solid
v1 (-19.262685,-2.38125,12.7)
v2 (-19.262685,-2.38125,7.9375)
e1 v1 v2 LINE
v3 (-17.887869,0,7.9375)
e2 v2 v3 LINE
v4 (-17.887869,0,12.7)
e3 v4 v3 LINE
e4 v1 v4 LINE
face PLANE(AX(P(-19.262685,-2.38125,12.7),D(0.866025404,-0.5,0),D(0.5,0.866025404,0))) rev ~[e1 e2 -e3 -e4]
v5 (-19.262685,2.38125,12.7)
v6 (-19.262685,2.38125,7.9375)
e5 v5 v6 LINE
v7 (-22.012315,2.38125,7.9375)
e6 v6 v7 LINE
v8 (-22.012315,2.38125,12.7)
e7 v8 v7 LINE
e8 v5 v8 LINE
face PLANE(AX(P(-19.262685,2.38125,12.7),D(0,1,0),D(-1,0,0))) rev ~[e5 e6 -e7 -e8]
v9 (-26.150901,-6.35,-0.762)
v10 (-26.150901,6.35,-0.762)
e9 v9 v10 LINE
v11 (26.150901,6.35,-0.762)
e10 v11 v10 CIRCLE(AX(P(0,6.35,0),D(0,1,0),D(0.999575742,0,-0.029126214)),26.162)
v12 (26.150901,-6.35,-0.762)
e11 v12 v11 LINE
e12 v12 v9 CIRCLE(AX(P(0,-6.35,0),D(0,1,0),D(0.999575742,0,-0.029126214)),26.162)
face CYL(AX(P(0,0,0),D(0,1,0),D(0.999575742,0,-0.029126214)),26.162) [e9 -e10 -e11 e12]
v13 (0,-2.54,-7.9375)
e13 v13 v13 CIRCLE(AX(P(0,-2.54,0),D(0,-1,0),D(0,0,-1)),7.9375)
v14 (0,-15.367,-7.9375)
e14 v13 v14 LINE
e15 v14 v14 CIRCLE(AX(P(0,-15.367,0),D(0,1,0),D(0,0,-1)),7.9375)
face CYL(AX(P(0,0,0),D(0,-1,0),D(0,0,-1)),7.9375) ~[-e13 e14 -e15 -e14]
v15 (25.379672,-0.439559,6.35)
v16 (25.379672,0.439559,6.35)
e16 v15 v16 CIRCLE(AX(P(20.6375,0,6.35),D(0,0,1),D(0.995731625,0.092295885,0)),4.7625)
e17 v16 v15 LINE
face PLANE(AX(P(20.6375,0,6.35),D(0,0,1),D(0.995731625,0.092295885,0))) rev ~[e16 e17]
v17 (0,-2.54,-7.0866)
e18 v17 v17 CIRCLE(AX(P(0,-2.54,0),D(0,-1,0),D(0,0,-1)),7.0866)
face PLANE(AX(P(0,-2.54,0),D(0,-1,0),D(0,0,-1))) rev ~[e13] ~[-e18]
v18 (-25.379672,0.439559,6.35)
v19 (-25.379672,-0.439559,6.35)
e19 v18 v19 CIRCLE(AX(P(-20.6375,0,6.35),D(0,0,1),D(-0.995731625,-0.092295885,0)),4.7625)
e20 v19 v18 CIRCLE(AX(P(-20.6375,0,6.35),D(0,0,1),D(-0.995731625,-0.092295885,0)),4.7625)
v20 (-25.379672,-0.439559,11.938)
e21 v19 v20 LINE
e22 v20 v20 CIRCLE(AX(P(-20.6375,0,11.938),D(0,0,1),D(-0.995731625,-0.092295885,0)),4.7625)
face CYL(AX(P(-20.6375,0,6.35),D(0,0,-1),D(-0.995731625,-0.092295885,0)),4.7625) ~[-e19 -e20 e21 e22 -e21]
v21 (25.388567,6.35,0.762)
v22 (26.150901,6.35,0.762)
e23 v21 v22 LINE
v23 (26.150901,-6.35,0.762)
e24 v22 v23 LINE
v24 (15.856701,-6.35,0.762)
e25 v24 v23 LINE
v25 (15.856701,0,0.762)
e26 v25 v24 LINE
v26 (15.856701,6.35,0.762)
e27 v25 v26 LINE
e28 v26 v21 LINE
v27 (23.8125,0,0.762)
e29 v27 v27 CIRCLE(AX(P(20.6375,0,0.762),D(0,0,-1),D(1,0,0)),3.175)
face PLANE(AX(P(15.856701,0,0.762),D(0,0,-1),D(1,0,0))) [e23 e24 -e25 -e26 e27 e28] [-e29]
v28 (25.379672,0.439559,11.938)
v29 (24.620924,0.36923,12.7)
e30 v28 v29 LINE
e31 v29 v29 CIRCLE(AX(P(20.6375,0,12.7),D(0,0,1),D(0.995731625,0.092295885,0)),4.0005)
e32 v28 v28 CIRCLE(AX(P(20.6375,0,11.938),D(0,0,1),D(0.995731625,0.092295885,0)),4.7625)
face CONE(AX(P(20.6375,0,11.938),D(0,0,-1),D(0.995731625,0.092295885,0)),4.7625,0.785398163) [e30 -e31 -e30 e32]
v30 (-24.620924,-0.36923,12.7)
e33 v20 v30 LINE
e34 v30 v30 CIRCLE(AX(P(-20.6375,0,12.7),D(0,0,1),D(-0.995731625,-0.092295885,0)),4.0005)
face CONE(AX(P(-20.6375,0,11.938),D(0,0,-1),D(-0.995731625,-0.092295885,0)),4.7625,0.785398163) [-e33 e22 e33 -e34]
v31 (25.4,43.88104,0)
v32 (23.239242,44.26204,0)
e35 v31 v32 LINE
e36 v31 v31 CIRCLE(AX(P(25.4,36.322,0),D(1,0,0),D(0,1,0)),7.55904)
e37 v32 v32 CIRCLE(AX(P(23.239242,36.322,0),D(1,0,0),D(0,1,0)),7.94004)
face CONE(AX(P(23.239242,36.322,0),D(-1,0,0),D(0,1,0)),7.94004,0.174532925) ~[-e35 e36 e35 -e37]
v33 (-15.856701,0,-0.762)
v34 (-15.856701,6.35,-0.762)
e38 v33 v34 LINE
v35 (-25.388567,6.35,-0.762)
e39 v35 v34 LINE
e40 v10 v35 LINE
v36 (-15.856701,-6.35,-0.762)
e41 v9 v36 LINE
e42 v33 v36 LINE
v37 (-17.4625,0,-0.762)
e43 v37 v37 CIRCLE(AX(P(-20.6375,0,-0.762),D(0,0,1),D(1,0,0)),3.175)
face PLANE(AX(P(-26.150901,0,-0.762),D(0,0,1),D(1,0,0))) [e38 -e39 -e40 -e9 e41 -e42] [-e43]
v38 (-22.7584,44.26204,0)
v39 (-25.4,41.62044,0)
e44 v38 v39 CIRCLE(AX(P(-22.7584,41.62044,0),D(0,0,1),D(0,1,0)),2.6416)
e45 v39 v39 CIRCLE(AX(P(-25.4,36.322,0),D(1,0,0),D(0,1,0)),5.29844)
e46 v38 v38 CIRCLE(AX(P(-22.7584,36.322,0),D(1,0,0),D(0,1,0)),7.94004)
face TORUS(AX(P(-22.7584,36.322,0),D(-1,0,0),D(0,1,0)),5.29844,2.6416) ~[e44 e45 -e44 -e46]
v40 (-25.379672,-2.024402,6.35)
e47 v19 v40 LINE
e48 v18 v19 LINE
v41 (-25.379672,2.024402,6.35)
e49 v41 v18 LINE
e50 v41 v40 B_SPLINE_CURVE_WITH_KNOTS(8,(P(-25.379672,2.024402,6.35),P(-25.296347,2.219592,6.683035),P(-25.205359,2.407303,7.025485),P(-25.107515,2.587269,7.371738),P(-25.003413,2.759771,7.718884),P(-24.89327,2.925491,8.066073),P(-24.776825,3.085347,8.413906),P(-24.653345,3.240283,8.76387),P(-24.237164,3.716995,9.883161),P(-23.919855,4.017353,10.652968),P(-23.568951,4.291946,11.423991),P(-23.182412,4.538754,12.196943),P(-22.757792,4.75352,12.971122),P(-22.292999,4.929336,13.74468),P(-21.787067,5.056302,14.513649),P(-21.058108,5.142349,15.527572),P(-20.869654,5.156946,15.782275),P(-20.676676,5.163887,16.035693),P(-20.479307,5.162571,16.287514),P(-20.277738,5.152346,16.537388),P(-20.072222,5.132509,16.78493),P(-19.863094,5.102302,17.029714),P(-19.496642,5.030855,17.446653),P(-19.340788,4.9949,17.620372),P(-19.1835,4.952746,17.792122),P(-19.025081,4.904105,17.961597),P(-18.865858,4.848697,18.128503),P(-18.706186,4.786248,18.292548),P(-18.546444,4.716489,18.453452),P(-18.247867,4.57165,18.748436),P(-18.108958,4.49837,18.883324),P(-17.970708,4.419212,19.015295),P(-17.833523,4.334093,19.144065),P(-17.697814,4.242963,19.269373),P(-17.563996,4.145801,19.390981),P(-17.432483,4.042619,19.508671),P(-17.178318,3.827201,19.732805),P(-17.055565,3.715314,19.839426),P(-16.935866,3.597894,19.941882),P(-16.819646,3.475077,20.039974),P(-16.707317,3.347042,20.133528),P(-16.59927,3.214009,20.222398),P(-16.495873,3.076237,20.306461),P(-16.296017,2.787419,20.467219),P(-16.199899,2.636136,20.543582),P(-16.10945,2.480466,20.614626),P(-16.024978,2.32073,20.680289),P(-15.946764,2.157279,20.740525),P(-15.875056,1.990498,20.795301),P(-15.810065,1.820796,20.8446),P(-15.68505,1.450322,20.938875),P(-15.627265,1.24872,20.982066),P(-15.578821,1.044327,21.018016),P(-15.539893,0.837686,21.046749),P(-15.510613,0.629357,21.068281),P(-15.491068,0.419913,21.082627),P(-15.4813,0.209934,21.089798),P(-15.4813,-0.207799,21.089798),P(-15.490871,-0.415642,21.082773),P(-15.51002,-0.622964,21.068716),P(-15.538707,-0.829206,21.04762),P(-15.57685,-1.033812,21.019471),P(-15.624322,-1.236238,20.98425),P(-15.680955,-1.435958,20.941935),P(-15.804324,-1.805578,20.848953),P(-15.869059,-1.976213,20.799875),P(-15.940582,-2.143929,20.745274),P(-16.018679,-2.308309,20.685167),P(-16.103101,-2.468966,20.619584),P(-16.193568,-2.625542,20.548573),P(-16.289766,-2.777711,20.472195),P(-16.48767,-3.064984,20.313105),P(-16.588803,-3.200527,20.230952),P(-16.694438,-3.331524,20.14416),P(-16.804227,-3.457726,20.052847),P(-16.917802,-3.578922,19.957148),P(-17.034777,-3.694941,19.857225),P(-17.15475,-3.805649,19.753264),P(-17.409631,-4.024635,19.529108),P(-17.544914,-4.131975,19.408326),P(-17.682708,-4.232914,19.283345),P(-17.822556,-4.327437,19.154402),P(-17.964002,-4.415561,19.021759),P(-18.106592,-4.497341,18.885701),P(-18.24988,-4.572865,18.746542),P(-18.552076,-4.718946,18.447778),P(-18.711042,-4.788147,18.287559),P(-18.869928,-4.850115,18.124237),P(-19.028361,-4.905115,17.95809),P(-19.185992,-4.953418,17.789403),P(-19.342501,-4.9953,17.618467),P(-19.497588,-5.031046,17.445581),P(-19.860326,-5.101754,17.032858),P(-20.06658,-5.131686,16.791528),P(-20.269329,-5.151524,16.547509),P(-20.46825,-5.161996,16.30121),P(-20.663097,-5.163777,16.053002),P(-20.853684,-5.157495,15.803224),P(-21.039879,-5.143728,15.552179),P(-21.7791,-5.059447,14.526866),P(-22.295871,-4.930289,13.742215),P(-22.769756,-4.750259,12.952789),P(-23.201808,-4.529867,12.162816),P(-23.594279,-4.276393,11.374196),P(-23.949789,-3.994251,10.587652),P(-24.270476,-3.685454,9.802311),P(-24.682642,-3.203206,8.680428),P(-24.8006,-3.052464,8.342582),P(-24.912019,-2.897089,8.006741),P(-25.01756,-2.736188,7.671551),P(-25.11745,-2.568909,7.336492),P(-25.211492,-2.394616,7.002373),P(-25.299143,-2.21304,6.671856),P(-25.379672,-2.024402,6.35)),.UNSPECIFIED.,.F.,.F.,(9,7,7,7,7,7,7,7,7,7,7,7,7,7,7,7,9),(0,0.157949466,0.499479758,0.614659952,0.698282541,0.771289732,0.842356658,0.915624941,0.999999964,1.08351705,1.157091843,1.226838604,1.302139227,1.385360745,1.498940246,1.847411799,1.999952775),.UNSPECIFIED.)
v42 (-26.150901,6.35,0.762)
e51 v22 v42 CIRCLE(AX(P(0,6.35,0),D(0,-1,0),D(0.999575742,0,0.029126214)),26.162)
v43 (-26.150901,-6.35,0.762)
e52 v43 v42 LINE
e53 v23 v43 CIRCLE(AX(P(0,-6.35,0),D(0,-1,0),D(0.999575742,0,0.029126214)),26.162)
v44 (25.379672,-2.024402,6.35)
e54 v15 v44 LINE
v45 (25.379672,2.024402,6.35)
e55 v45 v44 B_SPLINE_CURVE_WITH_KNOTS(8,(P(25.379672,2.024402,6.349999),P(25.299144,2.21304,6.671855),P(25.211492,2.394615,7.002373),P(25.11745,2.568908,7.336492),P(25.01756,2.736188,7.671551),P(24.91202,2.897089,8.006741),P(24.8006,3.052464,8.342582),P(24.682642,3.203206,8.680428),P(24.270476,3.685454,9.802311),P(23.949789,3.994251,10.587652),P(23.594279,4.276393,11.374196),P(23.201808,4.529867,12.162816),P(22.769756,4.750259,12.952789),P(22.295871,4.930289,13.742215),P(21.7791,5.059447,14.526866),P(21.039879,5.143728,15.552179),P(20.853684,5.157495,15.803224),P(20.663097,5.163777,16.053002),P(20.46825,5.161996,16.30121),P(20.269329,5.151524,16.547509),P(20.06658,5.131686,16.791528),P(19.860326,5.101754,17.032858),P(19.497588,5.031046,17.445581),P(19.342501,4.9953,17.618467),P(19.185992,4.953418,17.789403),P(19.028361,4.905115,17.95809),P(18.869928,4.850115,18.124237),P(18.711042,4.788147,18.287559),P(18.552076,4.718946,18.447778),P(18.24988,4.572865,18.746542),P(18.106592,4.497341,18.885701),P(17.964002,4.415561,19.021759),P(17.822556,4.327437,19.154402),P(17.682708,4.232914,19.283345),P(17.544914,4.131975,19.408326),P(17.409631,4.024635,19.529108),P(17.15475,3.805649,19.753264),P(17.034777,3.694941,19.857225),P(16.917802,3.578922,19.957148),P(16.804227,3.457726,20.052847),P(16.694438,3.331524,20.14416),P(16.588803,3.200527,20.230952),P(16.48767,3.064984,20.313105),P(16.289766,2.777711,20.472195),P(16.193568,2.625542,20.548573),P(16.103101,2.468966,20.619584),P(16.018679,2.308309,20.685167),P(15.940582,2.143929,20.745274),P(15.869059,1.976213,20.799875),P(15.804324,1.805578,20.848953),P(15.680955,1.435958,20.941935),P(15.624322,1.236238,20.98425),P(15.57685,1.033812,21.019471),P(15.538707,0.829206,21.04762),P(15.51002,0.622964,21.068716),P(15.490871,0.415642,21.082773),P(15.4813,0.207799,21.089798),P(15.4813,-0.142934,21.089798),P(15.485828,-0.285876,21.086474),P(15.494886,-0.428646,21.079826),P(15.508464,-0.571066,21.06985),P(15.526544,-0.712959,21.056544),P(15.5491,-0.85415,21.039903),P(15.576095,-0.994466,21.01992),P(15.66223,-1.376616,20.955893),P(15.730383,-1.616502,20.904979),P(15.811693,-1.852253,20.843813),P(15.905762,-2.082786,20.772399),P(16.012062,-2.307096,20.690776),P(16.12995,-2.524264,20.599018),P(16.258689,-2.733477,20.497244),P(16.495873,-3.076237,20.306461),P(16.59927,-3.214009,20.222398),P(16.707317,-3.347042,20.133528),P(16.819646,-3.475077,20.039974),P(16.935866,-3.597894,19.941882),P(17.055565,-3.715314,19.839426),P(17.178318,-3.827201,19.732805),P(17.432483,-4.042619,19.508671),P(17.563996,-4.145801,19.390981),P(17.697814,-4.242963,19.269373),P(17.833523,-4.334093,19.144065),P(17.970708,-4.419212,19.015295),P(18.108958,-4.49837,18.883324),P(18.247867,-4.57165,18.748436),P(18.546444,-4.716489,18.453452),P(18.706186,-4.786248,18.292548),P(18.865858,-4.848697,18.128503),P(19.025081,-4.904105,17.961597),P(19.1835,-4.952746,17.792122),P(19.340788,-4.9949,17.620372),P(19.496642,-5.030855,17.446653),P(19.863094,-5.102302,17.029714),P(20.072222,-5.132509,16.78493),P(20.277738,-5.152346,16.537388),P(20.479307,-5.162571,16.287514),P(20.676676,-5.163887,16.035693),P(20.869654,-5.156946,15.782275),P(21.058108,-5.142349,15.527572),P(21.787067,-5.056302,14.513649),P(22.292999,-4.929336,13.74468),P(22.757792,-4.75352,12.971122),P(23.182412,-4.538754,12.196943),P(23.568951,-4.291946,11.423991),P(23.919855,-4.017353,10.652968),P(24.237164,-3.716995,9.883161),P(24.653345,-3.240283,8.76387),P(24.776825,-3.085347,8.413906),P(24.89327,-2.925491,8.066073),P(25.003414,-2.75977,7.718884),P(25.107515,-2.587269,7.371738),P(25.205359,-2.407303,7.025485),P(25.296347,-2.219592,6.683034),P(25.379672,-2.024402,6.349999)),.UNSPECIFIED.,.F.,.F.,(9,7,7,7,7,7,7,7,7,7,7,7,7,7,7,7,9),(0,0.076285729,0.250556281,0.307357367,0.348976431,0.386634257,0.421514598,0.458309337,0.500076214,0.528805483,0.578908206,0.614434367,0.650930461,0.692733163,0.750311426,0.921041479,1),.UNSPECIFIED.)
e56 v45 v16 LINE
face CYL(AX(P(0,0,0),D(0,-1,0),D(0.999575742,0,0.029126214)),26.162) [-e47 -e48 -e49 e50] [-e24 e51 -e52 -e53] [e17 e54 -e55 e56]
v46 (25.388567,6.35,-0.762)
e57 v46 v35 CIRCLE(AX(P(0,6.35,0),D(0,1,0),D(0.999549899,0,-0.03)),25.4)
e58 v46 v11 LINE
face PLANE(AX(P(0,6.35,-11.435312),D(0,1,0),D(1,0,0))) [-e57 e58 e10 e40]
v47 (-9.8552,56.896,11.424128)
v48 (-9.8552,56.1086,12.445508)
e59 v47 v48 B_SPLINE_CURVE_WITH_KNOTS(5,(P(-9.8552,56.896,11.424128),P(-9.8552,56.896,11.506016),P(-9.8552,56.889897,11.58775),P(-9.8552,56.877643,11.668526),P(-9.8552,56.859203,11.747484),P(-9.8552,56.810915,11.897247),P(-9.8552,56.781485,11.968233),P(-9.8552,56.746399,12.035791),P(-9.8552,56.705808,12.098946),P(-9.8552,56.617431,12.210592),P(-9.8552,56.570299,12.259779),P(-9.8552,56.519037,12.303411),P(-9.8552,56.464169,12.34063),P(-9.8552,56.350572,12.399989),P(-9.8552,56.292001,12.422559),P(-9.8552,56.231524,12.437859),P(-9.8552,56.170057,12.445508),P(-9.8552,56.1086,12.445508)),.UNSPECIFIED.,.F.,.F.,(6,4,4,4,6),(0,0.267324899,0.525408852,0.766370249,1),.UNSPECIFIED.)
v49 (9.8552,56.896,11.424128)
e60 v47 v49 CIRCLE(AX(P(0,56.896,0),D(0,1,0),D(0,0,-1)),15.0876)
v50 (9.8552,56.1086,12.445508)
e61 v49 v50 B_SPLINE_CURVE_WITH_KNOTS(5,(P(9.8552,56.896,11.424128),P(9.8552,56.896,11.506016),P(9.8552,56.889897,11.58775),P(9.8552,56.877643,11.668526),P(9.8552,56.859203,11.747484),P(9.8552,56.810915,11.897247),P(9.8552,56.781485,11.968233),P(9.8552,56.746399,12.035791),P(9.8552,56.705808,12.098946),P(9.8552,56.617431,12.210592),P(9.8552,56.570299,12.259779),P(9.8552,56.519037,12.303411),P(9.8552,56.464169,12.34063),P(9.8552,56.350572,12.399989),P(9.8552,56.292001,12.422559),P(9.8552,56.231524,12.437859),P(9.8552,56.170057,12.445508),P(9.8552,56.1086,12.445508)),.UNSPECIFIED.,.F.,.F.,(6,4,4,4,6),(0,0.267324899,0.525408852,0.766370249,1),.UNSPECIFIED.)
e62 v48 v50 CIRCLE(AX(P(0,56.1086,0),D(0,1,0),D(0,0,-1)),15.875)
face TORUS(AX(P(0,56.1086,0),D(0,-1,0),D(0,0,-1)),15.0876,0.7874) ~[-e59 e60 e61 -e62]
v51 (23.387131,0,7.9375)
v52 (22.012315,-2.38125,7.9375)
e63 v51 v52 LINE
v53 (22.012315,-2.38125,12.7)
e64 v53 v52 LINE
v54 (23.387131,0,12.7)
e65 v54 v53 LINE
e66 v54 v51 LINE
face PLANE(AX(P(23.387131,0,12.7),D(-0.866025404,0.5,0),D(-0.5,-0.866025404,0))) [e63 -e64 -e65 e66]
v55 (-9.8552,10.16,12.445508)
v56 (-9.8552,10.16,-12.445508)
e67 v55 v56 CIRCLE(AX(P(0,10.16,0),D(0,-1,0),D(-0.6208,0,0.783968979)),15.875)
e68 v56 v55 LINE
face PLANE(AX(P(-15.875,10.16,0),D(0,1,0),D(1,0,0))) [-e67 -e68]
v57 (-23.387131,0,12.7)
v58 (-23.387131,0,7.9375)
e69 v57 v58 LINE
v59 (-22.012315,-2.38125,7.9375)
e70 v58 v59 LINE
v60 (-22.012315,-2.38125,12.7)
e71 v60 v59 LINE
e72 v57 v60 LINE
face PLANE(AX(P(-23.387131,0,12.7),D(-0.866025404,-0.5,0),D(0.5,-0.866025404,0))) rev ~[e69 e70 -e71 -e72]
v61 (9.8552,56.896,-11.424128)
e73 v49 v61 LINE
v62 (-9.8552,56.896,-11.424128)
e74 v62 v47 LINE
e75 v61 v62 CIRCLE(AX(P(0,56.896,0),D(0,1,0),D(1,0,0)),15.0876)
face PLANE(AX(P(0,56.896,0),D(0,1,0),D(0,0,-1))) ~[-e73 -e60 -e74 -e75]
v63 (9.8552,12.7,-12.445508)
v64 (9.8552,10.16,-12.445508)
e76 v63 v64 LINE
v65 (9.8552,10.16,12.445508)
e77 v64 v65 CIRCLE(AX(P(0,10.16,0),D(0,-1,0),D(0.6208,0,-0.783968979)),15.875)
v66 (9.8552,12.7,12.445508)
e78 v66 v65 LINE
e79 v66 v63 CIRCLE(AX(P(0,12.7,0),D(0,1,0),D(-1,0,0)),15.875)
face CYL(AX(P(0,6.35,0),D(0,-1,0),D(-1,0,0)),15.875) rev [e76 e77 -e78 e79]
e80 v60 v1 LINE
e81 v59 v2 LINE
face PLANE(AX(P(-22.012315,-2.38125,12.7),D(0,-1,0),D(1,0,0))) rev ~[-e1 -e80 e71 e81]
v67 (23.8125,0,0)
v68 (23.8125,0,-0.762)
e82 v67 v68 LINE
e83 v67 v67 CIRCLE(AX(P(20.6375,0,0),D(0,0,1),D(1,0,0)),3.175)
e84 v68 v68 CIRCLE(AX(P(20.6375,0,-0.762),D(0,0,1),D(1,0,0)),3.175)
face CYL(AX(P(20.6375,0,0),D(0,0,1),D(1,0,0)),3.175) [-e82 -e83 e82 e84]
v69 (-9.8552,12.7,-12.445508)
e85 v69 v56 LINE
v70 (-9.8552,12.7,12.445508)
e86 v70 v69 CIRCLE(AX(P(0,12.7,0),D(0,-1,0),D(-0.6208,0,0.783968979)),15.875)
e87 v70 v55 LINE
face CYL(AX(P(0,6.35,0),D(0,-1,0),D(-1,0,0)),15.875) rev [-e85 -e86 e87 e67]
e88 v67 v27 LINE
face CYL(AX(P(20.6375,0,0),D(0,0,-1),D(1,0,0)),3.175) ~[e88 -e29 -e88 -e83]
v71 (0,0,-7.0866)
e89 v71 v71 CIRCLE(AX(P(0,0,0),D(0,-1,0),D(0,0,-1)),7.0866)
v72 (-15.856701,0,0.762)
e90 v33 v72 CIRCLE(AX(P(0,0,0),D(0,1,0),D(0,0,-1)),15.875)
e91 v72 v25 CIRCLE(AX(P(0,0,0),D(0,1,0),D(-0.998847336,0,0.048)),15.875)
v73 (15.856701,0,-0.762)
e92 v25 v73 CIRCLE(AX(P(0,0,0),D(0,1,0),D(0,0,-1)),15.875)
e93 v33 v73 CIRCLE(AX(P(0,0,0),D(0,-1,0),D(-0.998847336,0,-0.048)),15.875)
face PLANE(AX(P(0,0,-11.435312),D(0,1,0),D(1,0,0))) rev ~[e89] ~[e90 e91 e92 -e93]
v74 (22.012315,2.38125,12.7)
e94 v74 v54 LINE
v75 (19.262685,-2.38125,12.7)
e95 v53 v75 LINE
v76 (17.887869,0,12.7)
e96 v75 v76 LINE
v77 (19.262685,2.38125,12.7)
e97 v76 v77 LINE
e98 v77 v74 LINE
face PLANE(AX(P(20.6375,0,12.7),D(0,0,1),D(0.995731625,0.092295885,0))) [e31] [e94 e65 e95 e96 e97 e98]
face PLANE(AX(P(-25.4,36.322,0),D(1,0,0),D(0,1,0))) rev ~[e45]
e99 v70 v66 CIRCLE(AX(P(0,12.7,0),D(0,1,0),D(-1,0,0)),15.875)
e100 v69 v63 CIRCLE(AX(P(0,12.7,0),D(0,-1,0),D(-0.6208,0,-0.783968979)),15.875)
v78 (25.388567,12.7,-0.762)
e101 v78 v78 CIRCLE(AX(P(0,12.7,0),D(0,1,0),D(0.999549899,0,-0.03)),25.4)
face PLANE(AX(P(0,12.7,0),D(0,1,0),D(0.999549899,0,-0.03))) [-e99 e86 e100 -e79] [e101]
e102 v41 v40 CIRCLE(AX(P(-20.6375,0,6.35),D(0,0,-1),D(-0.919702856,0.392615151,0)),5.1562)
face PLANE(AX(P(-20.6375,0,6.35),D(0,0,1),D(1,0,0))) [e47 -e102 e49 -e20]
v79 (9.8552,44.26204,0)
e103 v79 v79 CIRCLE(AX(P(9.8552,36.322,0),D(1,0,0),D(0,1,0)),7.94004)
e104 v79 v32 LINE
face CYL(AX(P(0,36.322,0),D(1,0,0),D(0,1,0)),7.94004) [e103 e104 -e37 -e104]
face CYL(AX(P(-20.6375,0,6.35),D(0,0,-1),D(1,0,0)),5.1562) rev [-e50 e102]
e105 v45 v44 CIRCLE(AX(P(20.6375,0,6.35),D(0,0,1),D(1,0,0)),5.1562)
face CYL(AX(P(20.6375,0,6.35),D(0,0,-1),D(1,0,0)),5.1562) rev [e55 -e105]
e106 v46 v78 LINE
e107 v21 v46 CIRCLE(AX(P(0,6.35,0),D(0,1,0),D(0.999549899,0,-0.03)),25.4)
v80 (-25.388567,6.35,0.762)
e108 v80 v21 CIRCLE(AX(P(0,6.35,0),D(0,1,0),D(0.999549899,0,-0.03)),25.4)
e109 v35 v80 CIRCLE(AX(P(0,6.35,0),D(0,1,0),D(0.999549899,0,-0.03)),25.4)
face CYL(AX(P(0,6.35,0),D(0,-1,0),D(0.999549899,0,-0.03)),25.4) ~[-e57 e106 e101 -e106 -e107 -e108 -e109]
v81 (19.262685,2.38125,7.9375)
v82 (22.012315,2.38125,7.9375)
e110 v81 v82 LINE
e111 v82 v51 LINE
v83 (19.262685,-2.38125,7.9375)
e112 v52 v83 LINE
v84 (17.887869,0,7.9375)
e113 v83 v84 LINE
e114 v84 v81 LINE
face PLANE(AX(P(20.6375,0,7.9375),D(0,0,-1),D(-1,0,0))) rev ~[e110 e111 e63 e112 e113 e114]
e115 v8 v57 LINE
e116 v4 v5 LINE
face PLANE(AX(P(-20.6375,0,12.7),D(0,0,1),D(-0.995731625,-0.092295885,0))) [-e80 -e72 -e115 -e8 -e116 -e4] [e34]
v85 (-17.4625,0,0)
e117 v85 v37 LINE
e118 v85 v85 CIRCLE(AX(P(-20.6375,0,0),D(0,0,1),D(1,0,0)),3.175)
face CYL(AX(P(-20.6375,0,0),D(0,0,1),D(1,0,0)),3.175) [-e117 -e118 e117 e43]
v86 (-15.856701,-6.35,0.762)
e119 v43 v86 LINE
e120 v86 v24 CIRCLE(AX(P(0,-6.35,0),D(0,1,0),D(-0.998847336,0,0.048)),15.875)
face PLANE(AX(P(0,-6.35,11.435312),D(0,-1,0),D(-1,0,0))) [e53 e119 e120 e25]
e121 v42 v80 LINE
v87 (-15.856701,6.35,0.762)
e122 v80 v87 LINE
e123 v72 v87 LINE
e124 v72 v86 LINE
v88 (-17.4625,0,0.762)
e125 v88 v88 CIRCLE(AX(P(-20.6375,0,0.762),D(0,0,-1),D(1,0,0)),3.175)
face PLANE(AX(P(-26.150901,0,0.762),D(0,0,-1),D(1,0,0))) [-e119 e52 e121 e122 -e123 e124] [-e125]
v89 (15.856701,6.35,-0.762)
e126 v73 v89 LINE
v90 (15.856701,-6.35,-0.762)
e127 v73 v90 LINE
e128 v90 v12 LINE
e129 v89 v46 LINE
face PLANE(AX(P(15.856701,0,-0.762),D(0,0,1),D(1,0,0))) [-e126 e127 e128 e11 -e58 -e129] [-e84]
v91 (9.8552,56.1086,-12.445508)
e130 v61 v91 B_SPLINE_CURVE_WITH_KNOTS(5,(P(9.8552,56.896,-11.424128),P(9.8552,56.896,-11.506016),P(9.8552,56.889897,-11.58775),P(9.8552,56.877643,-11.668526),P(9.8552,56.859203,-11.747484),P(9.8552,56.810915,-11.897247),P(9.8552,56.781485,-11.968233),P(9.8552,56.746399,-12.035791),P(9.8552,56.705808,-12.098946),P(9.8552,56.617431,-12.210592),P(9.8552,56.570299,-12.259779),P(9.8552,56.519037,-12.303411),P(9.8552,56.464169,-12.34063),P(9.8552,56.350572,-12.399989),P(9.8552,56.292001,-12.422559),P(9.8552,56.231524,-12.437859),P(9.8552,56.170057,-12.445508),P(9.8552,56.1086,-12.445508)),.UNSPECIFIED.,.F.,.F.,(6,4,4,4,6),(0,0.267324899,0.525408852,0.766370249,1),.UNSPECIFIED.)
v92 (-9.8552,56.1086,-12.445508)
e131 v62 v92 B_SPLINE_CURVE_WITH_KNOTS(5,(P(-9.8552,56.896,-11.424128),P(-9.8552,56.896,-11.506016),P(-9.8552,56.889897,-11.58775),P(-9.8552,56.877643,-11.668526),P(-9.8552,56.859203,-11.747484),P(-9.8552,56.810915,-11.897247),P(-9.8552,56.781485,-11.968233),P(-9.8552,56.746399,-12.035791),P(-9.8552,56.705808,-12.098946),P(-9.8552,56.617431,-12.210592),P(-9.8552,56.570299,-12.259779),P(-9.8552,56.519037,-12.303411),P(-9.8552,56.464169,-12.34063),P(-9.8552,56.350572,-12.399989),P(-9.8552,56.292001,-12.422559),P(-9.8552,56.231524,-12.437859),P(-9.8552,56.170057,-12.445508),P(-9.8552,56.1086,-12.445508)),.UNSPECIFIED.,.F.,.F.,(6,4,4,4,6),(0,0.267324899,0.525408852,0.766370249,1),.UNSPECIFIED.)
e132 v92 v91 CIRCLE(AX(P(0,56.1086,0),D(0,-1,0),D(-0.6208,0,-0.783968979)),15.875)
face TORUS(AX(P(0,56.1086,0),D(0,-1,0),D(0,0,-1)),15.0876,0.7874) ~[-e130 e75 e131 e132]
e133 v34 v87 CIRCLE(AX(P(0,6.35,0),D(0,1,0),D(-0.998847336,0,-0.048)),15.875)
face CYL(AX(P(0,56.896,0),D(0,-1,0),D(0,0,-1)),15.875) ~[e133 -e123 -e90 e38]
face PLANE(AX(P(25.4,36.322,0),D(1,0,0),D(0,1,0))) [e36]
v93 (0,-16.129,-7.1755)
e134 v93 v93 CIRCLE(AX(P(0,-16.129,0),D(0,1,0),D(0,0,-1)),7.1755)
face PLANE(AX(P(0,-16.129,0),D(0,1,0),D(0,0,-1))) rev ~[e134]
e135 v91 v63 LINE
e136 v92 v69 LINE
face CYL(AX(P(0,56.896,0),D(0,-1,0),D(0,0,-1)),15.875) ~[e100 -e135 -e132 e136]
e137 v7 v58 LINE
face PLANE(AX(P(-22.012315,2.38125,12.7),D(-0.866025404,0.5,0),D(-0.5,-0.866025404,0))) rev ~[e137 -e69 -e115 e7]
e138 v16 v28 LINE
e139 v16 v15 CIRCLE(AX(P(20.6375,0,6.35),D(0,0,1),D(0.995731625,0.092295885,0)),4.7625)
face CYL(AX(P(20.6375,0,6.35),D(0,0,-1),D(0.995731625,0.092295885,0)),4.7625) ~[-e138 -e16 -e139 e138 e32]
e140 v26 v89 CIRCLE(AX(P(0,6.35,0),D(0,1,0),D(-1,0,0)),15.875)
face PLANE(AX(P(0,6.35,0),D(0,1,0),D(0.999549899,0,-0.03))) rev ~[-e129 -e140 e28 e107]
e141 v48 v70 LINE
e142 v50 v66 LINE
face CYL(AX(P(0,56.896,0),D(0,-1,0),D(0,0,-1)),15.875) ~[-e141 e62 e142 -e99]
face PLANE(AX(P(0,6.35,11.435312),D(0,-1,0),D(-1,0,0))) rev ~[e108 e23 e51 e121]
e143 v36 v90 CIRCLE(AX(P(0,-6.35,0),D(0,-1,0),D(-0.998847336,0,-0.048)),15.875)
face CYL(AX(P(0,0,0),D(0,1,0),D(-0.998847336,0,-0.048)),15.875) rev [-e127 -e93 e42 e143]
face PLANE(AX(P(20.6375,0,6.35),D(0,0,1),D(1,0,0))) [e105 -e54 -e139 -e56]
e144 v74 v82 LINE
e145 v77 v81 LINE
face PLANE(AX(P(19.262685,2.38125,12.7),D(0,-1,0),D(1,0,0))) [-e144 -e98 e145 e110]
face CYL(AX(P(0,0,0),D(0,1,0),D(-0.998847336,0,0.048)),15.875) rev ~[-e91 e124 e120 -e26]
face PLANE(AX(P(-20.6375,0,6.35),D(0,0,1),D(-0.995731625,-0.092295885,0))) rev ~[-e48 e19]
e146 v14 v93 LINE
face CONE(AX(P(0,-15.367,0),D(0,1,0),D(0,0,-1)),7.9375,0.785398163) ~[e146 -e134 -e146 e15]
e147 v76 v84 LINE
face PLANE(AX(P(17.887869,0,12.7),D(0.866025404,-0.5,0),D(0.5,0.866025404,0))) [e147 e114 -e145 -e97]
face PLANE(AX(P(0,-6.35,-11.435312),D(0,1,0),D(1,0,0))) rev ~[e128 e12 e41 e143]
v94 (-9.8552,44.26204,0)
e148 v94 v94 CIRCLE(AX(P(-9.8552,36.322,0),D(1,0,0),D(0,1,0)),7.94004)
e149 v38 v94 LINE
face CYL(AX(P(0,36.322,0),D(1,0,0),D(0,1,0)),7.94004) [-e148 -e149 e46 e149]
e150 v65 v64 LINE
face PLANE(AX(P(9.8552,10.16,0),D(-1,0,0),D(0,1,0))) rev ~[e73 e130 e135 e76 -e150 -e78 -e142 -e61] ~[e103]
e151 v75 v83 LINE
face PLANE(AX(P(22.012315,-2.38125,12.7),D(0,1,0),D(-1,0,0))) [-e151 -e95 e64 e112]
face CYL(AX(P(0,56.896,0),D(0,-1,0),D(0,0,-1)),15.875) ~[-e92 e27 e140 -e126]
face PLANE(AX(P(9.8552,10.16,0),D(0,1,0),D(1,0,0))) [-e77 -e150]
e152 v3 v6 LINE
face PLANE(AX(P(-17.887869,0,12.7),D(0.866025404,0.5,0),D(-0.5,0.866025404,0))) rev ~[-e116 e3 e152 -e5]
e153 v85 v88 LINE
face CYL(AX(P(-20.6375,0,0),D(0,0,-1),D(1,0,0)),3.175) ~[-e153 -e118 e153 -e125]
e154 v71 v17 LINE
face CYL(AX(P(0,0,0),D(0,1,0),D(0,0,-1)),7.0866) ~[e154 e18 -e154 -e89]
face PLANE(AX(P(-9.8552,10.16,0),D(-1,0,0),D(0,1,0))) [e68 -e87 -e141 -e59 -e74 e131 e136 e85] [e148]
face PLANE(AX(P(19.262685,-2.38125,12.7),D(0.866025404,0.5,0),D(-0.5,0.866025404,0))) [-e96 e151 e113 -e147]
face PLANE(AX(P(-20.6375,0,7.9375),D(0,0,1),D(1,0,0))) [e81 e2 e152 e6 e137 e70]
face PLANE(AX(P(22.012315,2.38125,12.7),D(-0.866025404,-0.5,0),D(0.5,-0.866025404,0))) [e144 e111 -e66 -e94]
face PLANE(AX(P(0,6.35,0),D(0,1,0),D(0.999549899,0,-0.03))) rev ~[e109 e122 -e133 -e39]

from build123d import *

# Parameters (mm, degrees)
FILLET1_R                  = 0.7874
SKETCH2_W                  = 6.0198
SKETCH2_H                  = 46.736
CUT_EXTRUDE1_DEPTH         = 16.875
CUT_EXTRUDE1_DEPTH_BACK    = 16.875
SKETCH3_R                  = 7.9375
SKETCH3_R_2                = 7.0866
CUT_EXTRUDE2_DEPTH         = 2.54
CHAMFER1_SIZE              = 0.762
SKETCH4_R                  = 7.94004
EXTRUDE1_DEPTH             = 25.4
CHAMFER2_SIZE              = 0.381
CHAMFER2_SIZE2             = 2.160758373
FILLET2_R                  = 2.6416
EXTRUDE2_DEPTH             = 6.35
EXTRUDE2_DEPTH_BACK        = 6.35
CUT_EXTRUDE3_START         = 5.588
SKETCH6_R                  = 5.1562
CUT_EXTRUDE3_DEPTH         = 20.812
SKETCH7_R                  = 4.7625
EXTRUDE3_DEPTH             = 6.35
CHAMFER3_SIZE              = 0.762
CUT_EXTRUDE4_DEPTH         = 4.7625
EXTRUDE4_REACH             = 28.162
SKETCH10_R                 = 3.175
EXTRUDE4_DIRECTION_2_REACH = 28.162
SKETCH11_R                 = 25.4
SKETCH11_R_2               = 15.875
EXTRUDE5_DEPTH             = 6.35


with BuildPart() as part:
    # Sketch1 → Revolve1 (revolve)
    with BuildSketch(Plane(origin=(0, 0, 0), x_dir=(0, 0, -1), z_dir=(1, 0, 0))):
        Polygon((0, 56.896), (15.875, 56.896), (15.875, 0), (7.9375, 0), (7.9375, -16.129), (0, -16.129), align=None)
    revolve(axis=Axis((0, -15.35938, 0), (0, 1, 0)))

    # Fillet1
    fillet1_edges = [part.edges().sort_by_distance(p)[0] for p in [
        (0, 56.896, 15.875),
    ]]
    fillet(fillet1_edges, radius=FILLET1_R)

    # Sketch2 → Cut-Extrude1 (cut, two sides)
    with BuildSketch(Plane.XY) as cut_extrude1_sk:
        with Locations((12.8651, 33.528)):
            Rectangle(SKETCH2_W, SKETCH2_H)
        with Locations((-12.8651, 33.528)):
            Rectangle(SKETCH2_W, SKETCH2_H)
    extrude(amount=CUT_EXTRUDE1_DEPTH, mode=Mode.SUBTRACT)
    extrude(cut_extrude1_sk.sketch, amount=-CUT_EXTRUDE1_DEPTH_BACK, mode=Mode.SUBTRACT)

    # Sketch3 → Cut-Extrude2 (cut)
    with BuildSketch(Plane.XZ):
        with Locations(Location((0, 0, 0), (0, 0, 270))):  # turned: the seam where the file's is
            Circle(SKETCH3_R)
        with Locations(Location((0, 0, 0), (0, 0, 270))):  # turned: the seam where the file's is
            Circle(SKETCH3_R_2, mode=Mode.SUBTRACT)
    extrude(amount=CUT_EXTRUDE2_DEPTH, mode=Mode.SUBTRACT)

    # Chamfer1
    chamfer1_edges = [part.edges().sort_by_distance(p)[0] for p in [
        (0, -16.129, 7.9375),
    ]]
    chamfer(chamfer1_edges, length=CHAMFER1_SIZE)

    # Sketch4 → Extrude1 (add, symmetric)
    with BuildSketch(Plane(origin=(0, 0, 0), x_dir=(0, 0, -1), z_dir=(1, 0, 0))):
        with Locations(Location((0, 36.322, 0), (0, 0, 90))):  # turned: the seam where the file's is
            Circle(SKETCH4_R)
    extrude(amount=EXTRUDE1_DEPTH, both=True)

    # Chamfer2
    chamfer2_edges = [part.edges().sort_by_distance(p)[0] for p in [
        (25.4, 28.38196, 0),
    ]]
    chamfer2_side = [part.faces().sort_by_distance(p)[0] for p in [
        (25.4, 36.322, 0),
    ]]
    chamfer(chamfer2_edges, length=CHAMFER2_SIZE, length2=CHAMFER2_SIZE2, reference=chamfer2_side[0])

    # Fillet2
    fillet2_edges = [part.edges().sort_by_distance(p)[0] for p in [
        (-25.4, 28.38196, 0),
    ]]
    fillet(fillet2_edges, radius=FILLET2_R)

    # Sketch5 → Extrude2 (add, two sides)
    with BuildSketch(Plane(origin=(0, 0, 0), x_dir=(1, 0, 0), z_dir=(0, 1, 0))) as extrude2_sk:
        with BuildLine():
            Line((15.856701454, 0.762), (26.150900558, 0.762))
            ThreePointArc((26.150900558, 0.762), (0, 26.162), (-26.150900558, 0.762))
            Line((-26.150900558, 0.762), (-15.856701454, 0.762))
            ThreePointArc((-15.856701454, 0.762), (0, 15.875), (15.856701454, 0.762))
        make_face()
        with BuildLine():
            Line((15.856701454, -0.762), (26.150900558, -0.762))
            ThreePointArc((26.150900558, -0.762), (0, -26.162), (-26.150900558, -0.762))
            Line((-26.150900558, -0.762), (-15.856701454, -0.762))
            ThreePointArc((-15.856701454, -0.762), (0, -15.875), (15.856701454, -0.762))
        make_face()
    extrude(amount=EXTRUDE2_DEPTH)
    extrude(extrude2_sk.sketch, amount=-EXTRUDE2_DEPTH_BACK)

    # Sketch6 → Cut-Extrude3 (cut, through all)
    with BuildSketch(Plane.XY.offset(0.762).offset(CUT_EXTRUDE3_START)):
        with Locations((20.6375, 0)):
            Circle(SKETCH6_R)
        with Locations((-20.6375, 0)):
            Circle(SKETCH6_R)
    extrude(amount=CUT_EXTRUDE3_DEPTH, mode=Mode.SUBTRACT)

    # Sketch7 → Extrude3 (add)
    with BuildSketch(Plane.XY.offset(6.35)):
        with Locations(Location((20.6375, 0, 0), (0, 0, 5.295701499))):  # turned: the seam where the file's is
            Circle(SKETCH7_R)
        with Locations(Location((-20.6375, 0, 0), (0, 0, 185.295701499))):  # turned: the seam where the file's is
            Circle(SKETCH7_R)
    extrude(amount=EXTRUDE3_DEPTH)

    # Chamfer3
    chamfer3_edges = [part.edges().sort_by_distance(p)[0] for p in [
        (15.895328135, -0.439559152, 12.7),
        (-15.895328135, 0.439559152, 12.7),
    ]]
    chamfer(chamfer3_edges, length=CHAMFER3_SIZE)

    # Sketch8 → Cut-Extrude4 (cut)
    with BuildSketch(Plane.XY.offset(12.7)):
        Polygon((22.012315329, 2.38125), (23.387130657, 0), (22.012315329, -2.38125), (19.262684671, -2.38125), (17.887869343, 0), (19.262684671, 2.38125), align=None)
        Polygon((-23.387130657, 0), (-22.012315329, -2.38125), (-19.262684671, -2.38125), (-17.887869343, 0), (-19.262684671, 2.38125), (-22.012315329, 2.38125), align=None)
    extrude(amount=-CUT_EXTRUDE4_DEPTH, mode=Mode.SUBTRACT)

    # Sketch10 → Extrude4 (add, up to next)
    with BuildSketch(Plane.XY, mode=Mode.PRIVATE) as extrude4_sk1:
        with Locations((20.6375, 0)):
            Circle(SKETCH10_R)
    extrude4_tool1 = extrude(extrude4_sk1.sketch, amount=EXTRUDE4_REACH, mode=Mode.PRIVATE) - part.part
    add(extrude4_tool1.solids().sort_by_distance((20.6375, 0, 0))[0])
    # Sketch10 → Extrude4 (add, up to next)
    with BuildSketch(Plane.XY, mode=Mode.PRIVATE) as extrude4_sk2:
        with Locations((-20.6375, 0)):
            Circle(SKETCH10_R)
    extrude4_tool2 = extrude(extrude4_sk2.sketch, amount=EXTRUDE4_REACH, mode=Mode.PRIVATE) - part.part
    add(extrude4_tool2.solids().sort_by_distance((-20.6375, 0, 0))[0])

    # Sketch10 → Extrude4 direction 2 (add, up to next)
    with BuildSketch(Plane.XY, mode=Mode.PRIVATE) as extrude4_direction_2_sk1:
        with Locations((20.6375, 0)):
            Circle(SKETCH10_R)
    extrude4_direction_2_tool1 = extrude(extrude4_direction_2_sk1.sketch, amount=-EXTRUDE4_DIRECTION_2_REACH, mode=Mode.PRIVATE) - part.part
    add(extrude4_direction_2_tool1.solids().sort_by_distance((20.6375, 0, 0))[0])
    # Sketch10 → Extrude4 direction 2 (add, up to next)
    with BuildSketch(Plane.XY, mode=Mode.PRIVATE) as extrude4_direction_2_sk2:
        with Locations((-20.6375, 0)):
            Circle(SKETCH10_R)
    extrude4_direction_2_tool2 = extrude(extrude4_direction_2_sk2.sketch, amount=-EXTRUDE4_DIRECTION_2_REACH, mode=Mode.PRIVATE) - part.part
    add(extrude4_direction_2_tool2.solids().sort_by_distance((-20.6375, 0, 0))[0])

    # Sketch11 → Extrude5 (add)
    with BuildSketch(Plane(origin=(0, 6.35, 0), x_dir=(-1, 0, 0), z_dir=(0, 1, 0))):
        with Locations(Location((0, 0, 0), (0, 0, 181.719131321))):  # turned: the seam where the file's is
            Circle(SKETCH11_R)
        Circle(SKETCH11_R_2, mode=Mode.SUBTRACT)
    extrude(amount=EXTRUDE5_DEPTH)


solid = part.part
